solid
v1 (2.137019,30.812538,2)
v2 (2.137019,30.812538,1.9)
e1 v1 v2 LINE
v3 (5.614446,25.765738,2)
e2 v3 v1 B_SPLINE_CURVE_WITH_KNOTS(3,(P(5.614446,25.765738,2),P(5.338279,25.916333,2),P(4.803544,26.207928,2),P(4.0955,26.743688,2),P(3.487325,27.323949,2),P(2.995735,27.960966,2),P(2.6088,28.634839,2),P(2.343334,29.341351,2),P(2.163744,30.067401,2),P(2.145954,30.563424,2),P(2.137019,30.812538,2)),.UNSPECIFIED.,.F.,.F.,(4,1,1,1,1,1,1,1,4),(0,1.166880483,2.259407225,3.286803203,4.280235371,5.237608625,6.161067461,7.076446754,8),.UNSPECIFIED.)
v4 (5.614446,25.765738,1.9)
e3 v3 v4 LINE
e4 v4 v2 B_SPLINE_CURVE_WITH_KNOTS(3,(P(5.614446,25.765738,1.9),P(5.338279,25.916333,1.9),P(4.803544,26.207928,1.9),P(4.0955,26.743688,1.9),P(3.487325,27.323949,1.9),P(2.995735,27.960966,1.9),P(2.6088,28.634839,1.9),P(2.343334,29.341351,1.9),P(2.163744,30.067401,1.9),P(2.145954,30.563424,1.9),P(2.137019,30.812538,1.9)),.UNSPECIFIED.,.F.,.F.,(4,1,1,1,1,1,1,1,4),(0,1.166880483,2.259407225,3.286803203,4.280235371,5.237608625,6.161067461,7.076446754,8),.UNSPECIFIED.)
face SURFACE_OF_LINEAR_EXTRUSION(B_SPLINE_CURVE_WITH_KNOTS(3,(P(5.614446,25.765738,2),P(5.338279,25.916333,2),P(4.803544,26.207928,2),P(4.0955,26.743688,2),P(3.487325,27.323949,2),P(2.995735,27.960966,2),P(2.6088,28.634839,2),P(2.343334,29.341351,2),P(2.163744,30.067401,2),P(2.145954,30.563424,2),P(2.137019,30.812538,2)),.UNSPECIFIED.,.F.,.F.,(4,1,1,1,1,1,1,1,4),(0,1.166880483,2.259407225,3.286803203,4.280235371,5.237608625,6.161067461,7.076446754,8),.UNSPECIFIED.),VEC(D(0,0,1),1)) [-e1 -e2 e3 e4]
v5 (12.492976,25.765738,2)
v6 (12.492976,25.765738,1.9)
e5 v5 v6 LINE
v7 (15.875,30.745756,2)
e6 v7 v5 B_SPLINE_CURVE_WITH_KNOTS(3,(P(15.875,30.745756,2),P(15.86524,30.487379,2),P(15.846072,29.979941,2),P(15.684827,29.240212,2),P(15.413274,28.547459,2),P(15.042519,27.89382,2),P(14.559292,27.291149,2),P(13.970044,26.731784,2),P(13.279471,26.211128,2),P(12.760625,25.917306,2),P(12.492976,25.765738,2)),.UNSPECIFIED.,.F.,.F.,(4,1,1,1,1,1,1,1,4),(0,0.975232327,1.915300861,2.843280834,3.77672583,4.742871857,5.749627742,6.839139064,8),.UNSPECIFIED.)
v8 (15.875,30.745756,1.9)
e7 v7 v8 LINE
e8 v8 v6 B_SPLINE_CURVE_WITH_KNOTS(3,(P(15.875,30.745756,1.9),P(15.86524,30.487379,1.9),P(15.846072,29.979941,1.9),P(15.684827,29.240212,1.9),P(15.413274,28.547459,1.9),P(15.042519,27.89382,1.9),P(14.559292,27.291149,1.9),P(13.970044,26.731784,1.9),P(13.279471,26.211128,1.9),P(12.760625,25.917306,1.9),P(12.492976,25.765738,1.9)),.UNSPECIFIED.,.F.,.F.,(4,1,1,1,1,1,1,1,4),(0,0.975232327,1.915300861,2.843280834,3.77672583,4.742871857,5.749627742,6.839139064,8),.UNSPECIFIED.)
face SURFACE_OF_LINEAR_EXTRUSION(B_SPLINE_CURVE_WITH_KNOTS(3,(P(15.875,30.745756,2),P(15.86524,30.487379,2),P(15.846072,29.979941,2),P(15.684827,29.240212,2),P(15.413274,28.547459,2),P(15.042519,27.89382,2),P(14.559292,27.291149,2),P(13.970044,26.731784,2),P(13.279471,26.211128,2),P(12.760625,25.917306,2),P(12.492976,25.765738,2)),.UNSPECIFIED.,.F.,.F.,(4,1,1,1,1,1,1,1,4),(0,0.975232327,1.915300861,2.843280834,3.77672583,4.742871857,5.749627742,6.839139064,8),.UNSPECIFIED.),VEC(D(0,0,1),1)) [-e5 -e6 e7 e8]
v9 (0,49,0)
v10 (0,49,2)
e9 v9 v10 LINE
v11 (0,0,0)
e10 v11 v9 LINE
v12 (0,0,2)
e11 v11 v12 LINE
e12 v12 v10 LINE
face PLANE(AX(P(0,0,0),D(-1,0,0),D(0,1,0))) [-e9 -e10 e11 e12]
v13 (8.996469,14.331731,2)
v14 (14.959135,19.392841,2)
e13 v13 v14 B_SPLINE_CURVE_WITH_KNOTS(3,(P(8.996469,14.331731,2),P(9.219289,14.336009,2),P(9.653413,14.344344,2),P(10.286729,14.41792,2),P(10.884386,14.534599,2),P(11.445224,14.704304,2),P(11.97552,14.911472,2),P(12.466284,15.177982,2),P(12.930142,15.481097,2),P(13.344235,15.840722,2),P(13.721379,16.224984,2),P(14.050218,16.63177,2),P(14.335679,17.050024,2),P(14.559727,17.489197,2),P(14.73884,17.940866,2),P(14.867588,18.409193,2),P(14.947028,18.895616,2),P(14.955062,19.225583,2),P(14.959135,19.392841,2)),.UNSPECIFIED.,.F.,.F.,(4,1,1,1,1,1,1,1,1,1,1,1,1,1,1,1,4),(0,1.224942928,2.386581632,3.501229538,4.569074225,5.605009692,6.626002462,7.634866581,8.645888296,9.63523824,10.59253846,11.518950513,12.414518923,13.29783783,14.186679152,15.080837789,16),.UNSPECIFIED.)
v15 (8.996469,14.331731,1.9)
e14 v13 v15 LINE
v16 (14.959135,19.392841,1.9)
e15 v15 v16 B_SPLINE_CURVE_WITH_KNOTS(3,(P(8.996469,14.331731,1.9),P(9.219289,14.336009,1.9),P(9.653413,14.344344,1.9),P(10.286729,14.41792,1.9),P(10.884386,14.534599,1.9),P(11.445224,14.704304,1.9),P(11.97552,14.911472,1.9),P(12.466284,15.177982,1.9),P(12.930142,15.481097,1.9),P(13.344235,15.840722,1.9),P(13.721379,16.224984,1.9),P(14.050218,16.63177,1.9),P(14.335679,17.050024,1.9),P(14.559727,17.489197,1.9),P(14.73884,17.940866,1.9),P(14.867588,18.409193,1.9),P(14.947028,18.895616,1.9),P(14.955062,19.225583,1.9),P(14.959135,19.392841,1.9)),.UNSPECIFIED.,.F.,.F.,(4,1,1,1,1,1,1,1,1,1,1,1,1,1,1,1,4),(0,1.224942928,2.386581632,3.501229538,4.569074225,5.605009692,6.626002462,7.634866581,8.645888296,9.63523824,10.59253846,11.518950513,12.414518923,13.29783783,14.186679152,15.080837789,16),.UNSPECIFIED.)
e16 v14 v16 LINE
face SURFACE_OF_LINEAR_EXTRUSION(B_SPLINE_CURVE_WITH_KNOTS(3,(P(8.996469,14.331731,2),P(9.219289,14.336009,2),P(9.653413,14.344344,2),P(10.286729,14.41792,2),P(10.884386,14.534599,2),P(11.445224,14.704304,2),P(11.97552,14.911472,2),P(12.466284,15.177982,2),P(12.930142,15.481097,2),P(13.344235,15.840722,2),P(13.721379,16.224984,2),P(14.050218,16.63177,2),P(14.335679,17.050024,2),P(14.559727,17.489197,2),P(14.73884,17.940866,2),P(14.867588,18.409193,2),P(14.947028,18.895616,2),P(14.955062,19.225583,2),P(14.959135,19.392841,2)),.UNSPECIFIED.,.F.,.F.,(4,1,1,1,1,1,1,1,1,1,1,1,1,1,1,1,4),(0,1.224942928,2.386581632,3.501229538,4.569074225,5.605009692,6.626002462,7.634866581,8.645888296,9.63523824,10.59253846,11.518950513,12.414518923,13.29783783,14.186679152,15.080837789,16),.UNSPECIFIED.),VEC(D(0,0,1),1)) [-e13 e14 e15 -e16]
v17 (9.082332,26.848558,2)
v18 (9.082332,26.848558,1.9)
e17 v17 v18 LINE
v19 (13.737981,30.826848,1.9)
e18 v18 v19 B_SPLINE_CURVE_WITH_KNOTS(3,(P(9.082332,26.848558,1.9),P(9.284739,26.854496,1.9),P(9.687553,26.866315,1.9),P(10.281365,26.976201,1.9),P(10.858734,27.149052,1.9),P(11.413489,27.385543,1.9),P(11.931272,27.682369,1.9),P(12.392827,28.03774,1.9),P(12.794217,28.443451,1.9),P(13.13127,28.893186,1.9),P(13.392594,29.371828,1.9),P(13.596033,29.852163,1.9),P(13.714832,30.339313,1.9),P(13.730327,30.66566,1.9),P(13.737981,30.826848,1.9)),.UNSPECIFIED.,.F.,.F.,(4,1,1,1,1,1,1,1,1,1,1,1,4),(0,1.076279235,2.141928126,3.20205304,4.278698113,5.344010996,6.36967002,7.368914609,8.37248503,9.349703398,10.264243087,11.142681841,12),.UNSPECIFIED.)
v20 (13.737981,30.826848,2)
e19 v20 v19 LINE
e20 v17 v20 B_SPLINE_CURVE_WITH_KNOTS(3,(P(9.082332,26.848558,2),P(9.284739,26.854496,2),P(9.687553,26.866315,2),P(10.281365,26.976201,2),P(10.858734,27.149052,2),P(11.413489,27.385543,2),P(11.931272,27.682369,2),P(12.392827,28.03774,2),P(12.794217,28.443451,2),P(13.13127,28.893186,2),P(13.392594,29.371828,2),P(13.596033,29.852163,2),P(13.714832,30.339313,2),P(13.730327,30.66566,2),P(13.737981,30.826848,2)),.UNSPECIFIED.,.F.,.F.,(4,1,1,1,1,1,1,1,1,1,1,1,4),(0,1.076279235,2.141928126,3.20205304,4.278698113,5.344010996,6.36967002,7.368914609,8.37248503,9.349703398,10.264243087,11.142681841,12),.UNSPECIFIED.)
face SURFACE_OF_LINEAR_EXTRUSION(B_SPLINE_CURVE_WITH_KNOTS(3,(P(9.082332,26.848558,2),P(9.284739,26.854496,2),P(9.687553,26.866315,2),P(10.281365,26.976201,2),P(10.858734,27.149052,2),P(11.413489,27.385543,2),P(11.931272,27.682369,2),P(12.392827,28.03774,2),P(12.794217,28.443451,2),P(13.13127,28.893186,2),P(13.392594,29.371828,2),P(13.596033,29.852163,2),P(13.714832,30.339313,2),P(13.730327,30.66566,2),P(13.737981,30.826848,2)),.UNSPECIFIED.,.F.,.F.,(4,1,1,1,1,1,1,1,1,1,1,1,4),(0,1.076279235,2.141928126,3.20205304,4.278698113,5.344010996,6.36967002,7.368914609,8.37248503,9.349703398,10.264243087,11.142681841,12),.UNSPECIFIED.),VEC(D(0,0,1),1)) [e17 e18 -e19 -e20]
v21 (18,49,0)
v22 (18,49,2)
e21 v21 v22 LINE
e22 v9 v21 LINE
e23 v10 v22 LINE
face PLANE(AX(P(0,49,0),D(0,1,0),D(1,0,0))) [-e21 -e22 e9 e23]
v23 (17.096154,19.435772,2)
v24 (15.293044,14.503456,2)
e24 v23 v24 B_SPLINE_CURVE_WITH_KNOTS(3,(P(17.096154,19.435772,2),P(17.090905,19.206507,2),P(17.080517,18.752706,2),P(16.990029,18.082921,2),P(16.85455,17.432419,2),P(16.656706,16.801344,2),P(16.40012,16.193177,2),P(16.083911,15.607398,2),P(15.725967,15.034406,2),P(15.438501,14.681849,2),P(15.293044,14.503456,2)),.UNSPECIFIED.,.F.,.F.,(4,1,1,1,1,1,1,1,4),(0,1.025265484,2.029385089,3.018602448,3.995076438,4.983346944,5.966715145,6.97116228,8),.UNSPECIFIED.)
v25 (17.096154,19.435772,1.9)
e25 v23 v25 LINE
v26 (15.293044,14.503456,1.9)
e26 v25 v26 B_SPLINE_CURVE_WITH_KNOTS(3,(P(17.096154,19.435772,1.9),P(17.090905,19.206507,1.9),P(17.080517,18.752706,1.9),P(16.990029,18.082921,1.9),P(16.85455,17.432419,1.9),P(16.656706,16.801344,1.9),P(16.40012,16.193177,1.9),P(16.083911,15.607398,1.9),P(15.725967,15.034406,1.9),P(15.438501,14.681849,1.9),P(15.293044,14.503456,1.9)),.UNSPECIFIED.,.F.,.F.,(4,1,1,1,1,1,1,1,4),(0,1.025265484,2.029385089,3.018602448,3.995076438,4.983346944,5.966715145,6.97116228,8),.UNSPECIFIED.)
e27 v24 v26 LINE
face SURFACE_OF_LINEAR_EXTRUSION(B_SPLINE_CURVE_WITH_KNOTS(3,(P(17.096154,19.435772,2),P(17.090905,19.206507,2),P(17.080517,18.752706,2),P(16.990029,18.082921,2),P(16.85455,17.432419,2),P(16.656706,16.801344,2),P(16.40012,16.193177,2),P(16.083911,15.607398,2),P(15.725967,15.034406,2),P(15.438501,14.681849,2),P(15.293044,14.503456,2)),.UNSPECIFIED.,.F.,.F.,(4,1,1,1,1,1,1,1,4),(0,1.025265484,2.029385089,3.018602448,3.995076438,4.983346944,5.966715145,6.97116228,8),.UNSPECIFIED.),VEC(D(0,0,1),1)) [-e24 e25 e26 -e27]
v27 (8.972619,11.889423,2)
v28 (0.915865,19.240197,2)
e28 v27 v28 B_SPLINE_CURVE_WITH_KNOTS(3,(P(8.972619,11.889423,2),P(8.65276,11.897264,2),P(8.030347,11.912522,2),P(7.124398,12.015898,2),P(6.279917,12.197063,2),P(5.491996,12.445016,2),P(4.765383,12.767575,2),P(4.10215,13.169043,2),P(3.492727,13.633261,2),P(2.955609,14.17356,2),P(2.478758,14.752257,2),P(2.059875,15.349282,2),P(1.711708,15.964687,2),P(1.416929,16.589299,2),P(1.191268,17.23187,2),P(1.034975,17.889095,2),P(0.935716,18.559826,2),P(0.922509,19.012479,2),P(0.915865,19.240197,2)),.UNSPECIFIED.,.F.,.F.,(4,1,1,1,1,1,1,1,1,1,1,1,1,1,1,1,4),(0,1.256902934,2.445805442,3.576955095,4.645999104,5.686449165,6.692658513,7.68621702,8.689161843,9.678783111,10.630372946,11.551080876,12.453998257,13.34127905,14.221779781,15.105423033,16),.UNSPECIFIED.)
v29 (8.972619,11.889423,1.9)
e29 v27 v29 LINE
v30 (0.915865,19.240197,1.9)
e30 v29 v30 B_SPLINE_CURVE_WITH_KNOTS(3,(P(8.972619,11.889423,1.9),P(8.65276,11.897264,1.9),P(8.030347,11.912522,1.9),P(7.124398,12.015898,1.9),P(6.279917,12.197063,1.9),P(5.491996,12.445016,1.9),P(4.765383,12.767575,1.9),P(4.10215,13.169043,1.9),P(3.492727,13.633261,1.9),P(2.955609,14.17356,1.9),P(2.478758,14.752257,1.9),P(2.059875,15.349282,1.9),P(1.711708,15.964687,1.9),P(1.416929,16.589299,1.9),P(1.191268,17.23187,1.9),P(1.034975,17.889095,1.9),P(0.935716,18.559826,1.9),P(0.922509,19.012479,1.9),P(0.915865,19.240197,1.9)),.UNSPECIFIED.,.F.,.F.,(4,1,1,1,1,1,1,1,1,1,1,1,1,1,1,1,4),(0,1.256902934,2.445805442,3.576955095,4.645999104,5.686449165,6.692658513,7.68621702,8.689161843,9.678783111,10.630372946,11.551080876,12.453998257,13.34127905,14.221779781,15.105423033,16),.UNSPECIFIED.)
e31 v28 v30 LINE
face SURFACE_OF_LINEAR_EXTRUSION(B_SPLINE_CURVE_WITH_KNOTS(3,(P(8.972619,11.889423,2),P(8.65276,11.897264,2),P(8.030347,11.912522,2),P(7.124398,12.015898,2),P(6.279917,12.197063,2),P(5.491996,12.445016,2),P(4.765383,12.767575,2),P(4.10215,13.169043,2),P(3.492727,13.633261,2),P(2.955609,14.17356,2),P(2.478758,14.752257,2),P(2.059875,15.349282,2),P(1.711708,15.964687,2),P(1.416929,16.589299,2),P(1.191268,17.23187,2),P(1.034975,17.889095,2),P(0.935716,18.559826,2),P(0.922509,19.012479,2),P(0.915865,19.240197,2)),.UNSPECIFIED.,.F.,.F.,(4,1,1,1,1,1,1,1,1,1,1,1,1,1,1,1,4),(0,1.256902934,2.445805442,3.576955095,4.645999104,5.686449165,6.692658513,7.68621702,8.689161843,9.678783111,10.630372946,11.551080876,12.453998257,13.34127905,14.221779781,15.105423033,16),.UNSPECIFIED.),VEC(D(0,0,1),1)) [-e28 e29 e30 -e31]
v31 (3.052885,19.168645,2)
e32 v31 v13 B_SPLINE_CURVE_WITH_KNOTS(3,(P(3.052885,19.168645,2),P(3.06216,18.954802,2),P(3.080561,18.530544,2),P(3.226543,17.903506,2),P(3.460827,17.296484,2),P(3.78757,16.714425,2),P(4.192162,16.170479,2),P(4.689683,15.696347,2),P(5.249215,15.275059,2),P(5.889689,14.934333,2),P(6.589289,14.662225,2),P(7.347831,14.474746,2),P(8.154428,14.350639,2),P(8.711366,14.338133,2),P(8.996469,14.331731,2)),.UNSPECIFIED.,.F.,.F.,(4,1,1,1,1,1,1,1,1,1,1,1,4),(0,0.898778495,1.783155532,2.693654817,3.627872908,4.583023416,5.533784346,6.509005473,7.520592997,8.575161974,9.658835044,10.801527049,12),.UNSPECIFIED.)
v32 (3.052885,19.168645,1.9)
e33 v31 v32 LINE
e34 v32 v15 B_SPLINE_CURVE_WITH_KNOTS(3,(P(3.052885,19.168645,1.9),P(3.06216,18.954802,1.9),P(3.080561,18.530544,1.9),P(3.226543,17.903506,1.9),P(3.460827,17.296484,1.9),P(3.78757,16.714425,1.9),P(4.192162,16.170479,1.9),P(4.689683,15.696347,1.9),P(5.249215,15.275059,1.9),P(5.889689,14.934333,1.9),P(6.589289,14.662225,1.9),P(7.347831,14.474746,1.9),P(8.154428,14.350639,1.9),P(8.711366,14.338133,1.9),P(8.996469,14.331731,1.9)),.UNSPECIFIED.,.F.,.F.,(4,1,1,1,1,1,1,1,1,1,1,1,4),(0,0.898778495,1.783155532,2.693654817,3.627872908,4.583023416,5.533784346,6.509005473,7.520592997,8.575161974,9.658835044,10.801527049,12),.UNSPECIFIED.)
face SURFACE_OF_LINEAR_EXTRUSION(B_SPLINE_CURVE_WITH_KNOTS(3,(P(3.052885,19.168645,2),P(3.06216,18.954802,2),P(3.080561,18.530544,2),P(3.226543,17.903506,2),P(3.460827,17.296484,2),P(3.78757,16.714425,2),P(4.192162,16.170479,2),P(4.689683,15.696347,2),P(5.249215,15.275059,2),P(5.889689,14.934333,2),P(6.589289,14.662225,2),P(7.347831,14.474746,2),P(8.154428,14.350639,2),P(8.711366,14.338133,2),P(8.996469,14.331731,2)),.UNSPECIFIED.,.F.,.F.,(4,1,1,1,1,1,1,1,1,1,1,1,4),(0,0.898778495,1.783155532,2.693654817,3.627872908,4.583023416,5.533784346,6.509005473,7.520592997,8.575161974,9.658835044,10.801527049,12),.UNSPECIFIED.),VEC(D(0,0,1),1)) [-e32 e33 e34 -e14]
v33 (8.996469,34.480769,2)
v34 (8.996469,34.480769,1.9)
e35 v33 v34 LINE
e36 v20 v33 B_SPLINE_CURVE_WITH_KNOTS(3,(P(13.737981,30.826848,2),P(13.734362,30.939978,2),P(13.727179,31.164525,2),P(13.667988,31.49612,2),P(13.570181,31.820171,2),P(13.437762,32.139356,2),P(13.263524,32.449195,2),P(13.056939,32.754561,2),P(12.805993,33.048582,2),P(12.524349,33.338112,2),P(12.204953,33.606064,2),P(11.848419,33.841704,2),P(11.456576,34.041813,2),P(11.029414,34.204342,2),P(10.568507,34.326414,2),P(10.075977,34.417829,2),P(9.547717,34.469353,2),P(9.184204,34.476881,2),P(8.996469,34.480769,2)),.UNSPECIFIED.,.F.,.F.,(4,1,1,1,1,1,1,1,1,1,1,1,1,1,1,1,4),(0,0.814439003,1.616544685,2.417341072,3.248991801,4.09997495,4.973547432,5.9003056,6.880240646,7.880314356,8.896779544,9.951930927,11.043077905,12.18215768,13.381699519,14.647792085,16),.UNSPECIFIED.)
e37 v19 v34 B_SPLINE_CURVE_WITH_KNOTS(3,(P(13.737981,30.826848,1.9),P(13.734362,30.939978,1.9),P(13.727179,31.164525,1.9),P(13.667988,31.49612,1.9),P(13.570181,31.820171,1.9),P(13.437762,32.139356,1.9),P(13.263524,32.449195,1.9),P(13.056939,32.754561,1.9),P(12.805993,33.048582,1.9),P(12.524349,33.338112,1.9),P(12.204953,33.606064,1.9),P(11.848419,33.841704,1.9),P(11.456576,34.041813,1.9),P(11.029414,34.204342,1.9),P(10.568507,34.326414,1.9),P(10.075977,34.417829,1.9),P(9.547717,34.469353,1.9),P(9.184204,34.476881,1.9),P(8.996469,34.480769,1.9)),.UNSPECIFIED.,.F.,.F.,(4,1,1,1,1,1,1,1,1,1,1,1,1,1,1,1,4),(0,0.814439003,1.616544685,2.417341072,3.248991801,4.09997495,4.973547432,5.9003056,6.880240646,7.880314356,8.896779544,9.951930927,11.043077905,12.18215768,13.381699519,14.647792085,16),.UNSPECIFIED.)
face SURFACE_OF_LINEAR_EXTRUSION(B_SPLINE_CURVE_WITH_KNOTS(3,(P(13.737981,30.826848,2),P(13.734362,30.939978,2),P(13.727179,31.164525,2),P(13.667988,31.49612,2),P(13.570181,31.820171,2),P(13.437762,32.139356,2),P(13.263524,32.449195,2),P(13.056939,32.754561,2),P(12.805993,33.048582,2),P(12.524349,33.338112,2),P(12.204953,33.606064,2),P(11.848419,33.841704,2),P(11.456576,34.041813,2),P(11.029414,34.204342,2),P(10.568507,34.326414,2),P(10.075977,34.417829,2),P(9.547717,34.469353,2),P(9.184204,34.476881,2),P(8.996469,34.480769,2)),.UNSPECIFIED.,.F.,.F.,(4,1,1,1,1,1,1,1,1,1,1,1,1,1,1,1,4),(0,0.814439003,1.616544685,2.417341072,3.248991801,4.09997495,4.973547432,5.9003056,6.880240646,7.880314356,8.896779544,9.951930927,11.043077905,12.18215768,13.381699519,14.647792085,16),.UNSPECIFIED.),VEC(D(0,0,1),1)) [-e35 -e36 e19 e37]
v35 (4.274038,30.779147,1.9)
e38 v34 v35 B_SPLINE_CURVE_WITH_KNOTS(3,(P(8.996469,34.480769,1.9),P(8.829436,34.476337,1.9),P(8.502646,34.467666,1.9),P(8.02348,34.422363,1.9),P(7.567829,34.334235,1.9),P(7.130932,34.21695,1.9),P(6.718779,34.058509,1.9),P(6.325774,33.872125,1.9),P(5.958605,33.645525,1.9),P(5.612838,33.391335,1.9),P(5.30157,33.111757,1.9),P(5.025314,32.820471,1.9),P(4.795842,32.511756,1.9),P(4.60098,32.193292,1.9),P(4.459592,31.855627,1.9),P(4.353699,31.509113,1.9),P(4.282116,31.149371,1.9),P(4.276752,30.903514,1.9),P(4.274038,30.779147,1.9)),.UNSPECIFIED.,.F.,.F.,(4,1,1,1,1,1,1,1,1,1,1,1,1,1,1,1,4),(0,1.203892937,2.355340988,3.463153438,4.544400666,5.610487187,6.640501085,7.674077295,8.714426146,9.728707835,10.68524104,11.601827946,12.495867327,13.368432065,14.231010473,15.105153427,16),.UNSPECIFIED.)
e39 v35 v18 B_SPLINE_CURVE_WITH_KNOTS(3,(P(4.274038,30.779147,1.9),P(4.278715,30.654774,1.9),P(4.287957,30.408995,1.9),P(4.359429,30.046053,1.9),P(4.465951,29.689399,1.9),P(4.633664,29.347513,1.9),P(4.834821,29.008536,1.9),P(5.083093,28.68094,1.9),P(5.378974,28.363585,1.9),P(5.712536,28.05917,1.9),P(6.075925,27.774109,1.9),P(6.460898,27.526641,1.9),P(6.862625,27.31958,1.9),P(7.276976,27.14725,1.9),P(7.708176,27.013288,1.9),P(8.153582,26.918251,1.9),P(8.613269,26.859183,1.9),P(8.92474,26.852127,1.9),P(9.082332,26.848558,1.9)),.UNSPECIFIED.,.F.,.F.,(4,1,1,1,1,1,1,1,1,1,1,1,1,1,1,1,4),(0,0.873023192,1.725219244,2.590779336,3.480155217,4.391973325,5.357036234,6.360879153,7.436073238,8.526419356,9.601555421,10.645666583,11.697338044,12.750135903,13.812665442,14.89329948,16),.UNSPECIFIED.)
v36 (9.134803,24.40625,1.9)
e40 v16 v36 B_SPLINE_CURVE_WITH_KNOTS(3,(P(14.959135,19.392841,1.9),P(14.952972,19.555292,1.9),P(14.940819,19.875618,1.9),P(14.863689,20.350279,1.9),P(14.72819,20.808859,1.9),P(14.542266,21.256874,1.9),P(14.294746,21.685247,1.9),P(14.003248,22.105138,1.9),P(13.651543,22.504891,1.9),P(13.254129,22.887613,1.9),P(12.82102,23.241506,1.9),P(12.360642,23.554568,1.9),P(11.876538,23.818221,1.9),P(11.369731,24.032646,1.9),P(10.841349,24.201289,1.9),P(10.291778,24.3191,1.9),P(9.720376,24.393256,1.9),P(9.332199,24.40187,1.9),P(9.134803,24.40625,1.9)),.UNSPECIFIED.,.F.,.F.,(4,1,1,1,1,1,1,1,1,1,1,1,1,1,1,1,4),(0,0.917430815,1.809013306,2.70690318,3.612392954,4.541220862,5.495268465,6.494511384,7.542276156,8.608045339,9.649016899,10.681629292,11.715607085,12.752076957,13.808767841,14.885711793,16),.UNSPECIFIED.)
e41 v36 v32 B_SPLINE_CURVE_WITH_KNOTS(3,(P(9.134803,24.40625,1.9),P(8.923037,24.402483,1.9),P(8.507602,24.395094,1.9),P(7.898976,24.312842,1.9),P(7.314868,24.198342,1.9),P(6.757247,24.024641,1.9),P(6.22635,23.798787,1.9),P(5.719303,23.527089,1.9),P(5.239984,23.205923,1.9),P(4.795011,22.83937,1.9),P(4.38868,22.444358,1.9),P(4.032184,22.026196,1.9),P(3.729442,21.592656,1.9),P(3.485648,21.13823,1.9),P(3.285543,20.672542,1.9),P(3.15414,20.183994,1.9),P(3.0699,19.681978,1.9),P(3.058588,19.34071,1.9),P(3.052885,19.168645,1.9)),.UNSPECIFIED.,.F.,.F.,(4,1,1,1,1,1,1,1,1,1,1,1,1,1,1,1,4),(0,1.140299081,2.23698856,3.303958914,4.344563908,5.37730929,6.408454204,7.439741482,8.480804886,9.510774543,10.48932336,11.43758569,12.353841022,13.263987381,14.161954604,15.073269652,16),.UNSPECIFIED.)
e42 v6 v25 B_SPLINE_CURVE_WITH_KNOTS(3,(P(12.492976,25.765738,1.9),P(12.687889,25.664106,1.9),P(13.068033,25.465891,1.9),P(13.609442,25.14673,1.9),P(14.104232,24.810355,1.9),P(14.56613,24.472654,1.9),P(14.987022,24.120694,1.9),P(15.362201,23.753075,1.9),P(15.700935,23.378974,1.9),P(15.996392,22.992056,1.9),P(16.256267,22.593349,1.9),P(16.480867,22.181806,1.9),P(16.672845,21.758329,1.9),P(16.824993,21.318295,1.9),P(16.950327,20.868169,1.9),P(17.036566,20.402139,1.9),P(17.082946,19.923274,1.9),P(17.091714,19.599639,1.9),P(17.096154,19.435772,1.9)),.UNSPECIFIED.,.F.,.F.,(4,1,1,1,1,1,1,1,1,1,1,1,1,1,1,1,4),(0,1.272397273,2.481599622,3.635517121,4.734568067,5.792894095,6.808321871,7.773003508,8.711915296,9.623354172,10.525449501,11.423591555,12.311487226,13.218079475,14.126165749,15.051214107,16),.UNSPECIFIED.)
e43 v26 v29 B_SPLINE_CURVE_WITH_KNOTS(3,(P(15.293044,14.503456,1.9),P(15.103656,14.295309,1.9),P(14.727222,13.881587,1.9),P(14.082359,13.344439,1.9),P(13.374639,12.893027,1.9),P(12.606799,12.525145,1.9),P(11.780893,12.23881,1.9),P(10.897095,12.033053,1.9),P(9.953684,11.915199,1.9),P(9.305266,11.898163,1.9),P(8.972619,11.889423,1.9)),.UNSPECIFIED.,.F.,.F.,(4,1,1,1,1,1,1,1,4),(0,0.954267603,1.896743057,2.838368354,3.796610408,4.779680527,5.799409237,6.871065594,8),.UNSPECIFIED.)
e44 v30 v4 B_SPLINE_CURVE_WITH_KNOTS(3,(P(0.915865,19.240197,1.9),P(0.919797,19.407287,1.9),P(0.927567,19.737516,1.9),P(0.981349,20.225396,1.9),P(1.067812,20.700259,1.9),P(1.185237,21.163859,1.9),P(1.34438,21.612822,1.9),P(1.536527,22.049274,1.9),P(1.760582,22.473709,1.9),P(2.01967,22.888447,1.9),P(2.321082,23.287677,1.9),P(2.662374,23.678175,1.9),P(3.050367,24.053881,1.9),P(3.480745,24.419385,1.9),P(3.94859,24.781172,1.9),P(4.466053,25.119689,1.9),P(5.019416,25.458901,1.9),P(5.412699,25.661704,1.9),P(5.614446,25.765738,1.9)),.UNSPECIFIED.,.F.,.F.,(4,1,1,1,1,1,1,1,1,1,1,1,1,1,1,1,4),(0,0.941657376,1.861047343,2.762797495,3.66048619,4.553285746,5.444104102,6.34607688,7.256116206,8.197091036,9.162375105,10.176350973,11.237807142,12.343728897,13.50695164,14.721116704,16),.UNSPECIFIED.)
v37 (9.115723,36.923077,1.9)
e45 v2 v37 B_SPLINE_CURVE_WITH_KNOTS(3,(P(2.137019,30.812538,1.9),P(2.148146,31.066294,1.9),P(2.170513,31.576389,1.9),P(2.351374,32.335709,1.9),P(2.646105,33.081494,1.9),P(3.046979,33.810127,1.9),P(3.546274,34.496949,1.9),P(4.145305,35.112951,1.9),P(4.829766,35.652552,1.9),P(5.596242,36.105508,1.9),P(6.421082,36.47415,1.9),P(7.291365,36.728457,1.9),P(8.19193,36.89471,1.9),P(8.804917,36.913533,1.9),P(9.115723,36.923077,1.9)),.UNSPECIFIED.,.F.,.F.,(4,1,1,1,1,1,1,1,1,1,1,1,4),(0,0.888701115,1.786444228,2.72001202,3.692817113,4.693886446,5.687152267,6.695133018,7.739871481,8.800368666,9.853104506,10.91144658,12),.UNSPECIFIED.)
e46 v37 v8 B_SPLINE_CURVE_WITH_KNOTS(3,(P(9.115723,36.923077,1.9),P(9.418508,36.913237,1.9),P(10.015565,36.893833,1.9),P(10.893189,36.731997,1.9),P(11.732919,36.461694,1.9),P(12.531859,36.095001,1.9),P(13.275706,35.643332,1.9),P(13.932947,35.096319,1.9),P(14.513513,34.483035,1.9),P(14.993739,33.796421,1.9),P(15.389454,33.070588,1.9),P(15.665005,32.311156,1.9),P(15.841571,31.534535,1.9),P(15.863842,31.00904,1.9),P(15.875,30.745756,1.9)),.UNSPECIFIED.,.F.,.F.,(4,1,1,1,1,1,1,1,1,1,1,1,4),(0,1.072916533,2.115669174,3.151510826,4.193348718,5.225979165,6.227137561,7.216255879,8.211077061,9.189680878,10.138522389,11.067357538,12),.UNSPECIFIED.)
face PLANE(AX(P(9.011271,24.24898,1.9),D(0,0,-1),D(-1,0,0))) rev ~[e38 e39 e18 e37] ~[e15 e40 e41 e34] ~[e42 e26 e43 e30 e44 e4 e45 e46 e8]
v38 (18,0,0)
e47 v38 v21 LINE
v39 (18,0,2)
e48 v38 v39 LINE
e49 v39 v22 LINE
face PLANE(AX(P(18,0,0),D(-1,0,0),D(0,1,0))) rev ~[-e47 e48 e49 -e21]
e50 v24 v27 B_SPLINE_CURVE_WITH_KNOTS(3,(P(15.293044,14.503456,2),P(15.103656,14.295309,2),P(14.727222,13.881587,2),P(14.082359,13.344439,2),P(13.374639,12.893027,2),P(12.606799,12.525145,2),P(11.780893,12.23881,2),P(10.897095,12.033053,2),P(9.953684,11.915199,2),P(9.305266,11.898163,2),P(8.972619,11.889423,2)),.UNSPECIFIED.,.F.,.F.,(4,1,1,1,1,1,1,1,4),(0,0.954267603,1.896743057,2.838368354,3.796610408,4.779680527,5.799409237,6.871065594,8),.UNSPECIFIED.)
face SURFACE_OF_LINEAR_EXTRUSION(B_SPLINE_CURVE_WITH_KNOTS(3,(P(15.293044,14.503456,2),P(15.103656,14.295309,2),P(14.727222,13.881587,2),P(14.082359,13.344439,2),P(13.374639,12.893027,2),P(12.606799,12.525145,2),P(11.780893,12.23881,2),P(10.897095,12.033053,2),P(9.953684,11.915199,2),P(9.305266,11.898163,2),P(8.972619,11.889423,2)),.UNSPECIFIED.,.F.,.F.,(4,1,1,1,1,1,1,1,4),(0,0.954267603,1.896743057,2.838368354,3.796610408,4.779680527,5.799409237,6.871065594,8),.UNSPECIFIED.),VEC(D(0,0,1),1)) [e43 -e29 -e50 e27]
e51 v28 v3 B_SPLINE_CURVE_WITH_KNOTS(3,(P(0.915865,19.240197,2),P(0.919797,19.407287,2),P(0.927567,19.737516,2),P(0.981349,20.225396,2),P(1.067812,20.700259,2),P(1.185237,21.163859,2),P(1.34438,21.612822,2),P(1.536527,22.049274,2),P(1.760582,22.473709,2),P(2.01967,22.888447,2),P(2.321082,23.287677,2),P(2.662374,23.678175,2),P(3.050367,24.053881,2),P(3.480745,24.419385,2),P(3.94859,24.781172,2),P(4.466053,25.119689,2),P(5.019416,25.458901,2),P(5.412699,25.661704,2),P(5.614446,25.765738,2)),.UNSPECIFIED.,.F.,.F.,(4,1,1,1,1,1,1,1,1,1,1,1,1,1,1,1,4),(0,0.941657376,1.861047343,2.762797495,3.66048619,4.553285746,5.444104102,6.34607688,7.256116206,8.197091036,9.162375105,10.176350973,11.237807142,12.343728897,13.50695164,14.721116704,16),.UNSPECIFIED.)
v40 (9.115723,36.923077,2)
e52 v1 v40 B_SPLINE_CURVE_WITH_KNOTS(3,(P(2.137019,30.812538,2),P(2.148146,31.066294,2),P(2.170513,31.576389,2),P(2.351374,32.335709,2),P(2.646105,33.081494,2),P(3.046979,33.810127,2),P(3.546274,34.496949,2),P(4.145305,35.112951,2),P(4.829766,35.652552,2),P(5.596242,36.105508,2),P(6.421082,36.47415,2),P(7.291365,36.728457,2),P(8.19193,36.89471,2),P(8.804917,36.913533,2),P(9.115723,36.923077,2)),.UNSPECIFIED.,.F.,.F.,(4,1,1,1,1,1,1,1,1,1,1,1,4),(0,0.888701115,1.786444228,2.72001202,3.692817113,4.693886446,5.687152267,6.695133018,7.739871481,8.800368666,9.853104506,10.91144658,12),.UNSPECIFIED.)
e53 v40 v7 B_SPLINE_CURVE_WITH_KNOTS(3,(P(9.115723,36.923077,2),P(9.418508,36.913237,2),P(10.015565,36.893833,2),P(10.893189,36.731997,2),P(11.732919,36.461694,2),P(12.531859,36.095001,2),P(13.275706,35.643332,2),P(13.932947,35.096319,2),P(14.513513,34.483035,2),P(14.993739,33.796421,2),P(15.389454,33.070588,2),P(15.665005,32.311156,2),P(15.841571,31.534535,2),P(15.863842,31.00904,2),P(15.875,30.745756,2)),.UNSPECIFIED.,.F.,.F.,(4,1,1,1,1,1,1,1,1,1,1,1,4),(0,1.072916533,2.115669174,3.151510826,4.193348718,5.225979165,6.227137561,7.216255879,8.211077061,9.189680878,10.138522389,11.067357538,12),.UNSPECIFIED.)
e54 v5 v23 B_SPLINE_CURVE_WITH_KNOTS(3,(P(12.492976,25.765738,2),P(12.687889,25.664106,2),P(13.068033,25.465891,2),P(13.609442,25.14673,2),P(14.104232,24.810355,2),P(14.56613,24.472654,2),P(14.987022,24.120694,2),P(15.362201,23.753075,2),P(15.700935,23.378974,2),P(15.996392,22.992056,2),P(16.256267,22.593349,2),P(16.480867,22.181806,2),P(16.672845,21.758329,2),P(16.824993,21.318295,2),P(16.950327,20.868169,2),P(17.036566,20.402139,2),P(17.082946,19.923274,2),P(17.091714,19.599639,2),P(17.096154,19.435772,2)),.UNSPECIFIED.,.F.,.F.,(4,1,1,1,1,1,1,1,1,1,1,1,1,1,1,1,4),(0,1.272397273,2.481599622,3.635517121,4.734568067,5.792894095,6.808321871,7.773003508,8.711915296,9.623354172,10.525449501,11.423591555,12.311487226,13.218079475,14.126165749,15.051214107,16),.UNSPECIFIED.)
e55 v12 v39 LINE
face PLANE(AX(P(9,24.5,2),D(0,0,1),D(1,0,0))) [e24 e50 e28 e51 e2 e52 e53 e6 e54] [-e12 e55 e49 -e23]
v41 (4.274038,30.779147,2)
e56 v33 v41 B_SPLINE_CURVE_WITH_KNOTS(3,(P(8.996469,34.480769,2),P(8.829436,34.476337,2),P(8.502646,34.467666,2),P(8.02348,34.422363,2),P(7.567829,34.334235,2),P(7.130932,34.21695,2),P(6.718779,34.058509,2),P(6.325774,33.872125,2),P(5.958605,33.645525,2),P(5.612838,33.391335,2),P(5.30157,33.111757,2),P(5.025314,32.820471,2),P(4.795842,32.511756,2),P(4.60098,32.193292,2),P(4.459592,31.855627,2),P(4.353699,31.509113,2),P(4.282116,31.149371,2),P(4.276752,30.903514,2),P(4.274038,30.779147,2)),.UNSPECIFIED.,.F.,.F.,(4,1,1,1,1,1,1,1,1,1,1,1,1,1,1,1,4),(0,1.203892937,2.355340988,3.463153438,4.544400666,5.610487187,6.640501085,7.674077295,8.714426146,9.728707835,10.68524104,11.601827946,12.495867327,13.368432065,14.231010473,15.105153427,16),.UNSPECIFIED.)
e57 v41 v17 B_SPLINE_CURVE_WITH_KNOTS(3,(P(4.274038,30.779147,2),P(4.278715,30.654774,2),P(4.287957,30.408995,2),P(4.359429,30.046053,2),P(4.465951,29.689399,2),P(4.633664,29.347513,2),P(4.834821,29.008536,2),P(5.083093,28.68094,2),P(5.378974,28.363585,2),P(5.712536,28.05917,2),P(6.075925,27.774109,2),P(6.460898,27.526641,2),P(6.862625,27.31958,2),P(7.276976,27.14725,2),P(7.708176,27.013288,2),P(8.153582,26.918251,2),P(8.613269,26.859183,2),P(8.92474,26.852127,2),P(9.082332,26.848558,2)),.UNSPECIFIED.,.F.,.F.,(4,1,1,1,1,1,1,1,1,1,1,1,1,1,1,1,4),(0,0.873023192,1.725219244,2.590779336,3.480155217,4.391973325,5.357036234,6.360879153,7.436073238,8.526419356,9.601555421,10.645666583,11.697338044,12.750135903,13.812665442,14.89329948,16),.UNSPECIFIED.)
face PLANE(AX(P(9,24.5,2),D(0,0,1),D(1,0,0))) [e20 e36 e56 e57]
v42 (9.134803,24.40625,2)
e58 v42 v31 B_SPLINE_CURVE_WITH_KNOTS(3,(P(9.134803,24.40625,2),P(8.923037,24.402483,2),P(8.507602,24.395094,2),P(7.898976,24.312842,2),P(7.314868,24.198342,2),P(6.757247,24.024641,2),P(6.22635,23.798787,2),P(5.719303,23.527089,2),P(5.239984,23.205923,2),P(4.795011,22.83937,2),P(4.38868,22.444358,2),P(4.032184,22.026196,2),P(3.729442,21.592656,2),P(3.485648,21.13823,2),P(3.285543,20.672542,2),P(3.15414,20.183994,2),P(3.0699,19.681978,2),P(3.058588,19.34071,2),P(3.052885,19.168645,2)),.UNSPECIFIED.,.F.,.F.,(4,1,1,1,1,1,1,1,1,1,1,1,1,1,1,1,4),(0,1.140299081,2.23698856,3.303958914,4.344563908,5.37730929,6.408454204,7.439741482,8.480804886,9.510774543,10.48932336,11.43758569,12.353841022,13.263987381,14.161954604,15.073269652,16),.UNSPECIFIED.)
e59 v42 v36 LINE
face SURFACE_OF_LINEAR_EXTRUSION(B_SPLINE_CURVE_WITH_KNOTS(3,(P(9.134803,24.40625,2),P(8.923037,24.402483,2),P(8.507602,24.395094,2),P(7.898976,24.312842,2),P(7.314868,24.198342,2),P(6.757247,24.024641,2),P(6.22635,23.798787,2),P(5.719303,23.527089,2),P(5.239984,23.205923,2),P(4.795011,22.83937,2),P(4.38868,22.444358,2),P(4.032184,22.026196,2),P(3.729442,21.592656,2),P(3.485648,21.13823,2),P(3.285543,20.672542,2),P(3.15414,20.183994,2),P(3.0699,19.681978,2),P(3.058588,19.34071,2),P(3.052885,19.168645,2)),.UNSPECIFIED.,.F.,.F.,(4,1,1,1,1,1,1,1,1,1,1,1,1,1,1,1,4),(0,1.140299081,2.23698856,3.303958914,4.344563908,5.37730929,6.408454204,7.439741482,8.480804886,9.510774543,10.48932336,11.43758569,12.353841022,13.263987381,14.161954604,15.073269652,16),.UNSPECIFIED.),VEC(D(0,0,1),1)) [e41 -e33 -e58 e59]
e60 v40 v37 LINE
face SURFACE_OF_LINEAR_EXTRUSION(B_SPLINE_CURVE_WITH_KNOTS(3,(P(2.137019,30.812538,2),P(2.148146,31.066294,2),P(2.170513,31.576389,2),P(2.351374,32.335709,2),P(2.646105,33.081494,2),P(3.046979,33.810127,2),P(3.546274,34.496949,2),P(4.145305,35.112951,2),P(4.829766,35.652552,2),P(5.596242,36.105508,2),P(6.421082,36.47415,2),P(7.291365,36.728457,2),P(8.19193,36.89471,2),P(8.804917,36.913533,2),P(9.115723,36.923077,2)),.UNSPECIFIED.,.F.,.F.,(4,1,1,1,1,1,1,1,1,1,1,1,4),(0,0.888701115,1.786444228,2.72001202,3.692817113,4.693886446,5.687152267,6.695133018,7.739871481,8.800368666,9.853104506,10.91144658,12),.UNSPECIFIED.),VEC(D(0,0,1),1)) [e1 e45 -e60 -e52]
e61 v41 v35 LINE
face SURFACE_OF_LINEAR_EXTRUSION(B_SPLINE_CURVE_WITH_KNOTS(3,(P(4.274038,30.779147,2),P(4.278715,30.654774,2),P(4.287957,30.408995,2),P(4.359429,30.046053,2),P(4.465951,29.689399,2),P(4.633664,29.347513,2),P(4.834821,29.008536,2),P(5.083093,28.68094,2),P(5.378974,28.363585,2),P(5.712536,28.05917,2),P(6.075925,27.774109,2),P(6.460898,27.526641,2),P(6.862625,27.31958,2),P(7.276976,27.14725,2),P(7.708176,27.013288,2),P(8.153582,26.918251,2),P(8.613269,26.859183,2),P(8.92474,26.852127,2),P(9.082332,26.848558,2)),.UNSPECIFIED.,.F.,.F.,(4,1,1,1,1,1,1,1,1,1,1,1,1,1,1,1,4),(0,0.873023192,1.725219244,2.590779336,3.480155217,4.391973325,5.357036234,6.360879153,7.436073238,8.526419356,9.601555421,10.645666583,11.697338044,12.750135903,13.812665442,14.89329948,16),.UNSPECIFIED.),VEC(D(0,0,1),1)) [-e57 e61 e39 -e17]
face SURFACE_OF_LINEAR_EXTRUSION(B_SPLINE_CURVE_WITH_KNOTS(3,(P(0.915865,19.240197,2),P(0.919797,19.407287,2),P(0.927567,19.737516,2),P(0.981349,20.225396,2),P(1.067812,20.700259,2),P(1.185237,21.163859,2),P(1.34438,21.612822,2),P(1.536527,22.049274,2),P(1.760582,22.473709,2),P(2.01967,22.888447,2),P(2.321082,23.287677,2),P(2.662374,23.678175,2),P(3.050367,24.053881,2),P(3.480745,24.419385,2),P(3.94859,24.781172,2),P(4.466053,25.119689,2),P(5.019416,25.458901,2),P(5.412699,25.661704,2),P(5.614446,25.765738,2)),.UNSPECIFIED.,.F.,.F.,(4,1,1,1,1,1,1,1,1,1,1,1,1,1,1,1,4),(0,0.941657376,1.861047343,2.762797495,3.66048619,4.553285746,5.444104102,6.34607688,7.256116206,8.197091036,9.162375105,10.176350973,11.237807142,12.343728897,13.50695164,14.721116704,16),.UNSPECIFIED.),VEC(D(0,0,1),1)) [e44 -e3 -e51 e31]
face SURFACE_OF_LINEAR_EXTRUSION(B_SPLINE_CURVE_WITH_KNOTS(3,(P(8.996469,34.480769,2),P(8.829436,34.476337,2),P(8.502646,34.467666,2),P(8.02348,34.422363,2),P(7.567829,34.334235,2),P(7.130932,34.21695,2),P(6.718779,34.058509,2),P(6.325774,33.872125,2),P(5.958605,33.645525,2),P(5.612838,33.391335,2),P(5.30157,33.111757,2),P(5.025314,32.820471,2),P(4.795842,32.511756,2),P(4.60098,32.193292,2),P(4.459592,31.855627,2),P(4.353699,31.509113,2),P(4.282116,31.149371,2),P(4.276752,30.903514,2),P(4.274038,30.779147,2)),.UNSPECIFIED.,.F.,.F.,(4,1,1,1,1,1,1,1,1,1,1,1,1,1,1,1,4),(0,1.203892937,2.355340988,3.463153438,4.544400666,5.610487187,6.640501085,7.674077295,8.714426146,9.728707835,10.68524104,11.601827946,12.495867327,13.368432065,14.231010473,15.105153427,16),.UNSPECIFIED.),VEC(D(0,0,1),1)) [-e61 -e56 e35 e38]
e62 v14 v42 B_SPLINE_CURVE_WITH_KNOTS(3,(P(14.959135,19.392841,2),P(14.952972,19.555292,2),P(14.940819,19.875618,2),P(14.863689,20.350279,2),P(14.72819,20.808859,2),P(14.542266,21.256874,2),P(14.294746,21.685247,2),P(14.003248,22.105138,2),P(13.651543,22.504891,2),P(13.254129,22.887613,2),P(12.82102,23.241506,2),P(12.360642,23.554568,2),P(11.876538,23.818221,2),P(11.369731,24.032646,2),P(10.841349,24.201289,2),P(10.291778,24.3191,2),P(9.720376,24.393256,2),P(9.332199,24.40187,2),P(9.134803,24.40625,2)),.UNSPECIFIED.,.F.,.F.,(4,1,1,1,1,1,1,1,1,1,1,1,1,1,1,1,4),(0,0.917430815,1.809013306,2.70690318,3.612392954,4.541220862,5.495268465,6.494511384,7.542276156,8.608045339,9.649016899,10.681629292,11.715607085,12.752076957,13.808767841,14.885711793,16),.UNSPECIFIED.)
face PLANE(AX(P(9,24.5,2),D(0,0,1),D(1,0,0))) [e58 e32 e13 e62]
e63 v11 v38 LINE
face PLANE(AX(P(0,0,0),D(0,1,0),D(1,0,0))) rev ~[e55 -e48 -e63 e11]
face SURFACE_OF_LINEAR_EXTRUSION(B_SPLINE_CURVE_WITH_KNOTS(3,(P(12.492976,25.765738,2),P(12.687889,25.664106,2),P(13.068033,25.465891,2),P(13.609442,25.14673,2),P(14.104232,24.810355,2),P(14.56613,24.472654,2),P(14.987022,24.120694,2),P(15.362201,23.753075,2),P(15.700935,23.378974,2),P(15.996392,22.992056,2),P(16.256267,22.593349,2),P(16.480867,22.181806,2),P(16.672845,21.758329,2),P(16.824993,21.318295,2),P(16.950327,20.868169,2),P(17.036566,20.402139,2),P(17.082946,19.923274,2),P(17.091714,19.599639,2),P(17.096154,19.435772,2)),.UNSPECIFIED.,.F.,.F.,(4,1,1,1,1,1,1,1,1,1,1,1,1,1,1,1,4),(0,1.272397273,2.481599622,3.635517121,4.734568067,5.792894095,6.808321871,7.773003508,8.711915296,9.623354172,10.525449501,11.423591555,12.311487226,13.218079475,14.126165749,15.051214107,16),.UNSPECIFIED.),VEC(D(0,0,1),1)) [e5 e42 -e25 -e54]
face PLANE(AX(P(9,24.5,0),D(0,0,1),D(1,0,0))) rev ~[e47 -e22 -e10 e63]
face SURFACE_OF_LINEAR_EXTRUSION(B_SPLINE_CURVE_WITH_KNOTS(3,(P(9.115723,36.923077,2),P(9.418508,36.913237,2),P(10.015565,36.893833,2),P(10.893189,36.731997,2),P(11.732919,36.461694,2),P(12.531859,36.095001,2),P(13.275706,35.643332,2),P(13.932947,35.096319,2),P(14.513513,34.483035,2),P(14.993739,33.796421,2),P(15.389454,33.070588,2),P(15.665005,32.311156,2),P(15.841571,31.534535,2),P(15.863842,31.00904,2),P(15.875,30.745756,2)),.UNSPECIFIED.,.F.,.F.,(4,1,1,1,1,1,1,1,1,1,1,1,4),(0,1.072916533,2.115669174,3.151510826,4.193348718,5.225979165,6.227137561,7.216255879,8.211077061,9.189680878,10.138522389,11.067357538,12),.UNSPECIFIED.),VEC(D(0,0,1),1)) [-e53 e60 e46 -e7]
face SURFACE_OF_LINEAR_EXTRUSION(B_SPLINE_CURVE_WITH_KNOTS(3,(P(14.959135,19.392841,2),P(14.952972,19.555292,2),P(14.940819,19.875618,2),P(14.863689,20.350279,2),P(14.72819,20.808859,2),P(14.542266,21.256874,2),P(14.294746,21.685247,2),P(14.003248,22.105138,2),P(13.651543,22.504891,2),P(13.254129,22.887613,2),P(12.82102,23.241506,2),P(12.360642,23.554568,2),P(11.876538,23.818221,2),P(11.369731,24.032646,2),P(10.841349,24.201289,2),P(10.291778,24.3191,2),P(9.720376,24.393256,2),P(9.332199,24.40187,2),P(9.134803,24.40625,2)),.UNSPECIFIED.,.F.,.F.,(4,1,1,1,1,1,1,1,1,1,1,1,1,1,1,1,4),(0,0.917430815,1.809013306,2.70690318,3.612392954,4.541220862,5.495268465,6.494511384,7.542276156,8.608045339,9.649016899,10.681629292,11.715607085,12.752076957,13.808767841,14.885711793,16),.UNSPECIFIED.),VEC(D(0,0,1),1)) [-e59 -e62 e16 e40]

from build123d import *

# Parameters (mm, degrees)
SKETCH_1_W          = 18
SKETCH_1_H          = 49
EXTRUDE_1_DEPTH     = 2
CUT_EXTRUDE_1_DEPTH = 0.1


with BuildPart() as part:
    # ｽｹｯﾁ1 → ﾎﾞｽ - 押し出し1 (new body)
    with BuildSketch(Plane.XY):
        with Locations((9, 24.5)):
            Rectangle(SKETCH_1_W, SKETCH_1_H)
    extrude(amount=EXTRUDE_1_DEPTH)

    # ｽｹｯﾁ2 → ｶｯﾄ - 押し出し1 (cut)
    with BuildSketch(Plane.XY.offset(2)):
        with BuildLine():
            add(Edge.make_bspline(
                [(12.492976262, 25.76573768), (12.687888699, 25.66410623), (13.068033045, 25.46589096), (13.609442265, 25.146729793), (14.104232006, 24.810354657), (14.566130292, 24.472653542), (14.987022018, 24.120693557), (15.36220097, 23.753075119), (15.700934598, 23.378974313), (15.996391825, 22.992056293), (16.256266732, 22.593348984), (16.480867152, 22.181805894), (16.672844907, 21.758328927), (16.824992758, 21.318295495), (16.950326734, 20.868169429), (17.036566118, 20.402138517), (17.082945505, 19.923273626), (17.09171404, 19.599639288), (17.096153846, 19.435772236)],
                knots=[0, 0, 0, 0, 1.272397273, 2.481599622, 3.635517121, 4.734568067, 5.792894095, 6.808321871, 7.773003508, 8.711915296, 9.623354172, 10.525449501, 11.423591555, 12.311487226, 13.218079475, 14.126165749, 15.051214107, 16, 16, 16, 16], degree=3))
            add(Edge.make_bspline(
                [(17.096153846, 19.435772236), (17.090905431, 19.206507305), (17.080516849, 18.752705983), (16.990029458, 18.082920831), (16.854550087, 17.432419243), (16.656705548, 16.801343833), (16.400119799, 16.193176846), (16.083911326, 15.607397691), (15.725967234, 15.034405605), (15.438501106, 14.681848605), (15.29304387, 14.503455529)],
                knots=[0, 0, 0, 0, 1.025265484, 2.029385089, 3.018602448, 3.995076438, 4.983346944, 5.966715145, 6.97116228, 8, 8, 8, 8], degree=3))
            add(Edge.make_bspline(
                [(15.29304387, 14.503455529), (15.103656429, 14.295308601), (14.72722186, 13.881586874), (14.082359441, 13.344439399), (13.374639125, 12.893026557), (12.606799397, 12.52514456), (11.780892761, 12.238810413), (10.897095194, 12.033053282), (9.953683725, 11.915198898), (9.305266145, 11.898162825), (8.97261869, 11.889423077)],
                knots=[0, 0, 0, 0, 0.954267603, 1.896743057, 2.838368354, 3.796610408, 4.779680527, 5.799409237, 6.871065594, 8, 8, 8, 8], degree=3))
            add(Edge.make_bspline(
                [(8.97261869, 11.889423077), (8.652759742, 11.897264043), (8.030346719, 11.912521767), (7.124397588, 12.015898167), (6.279917417, 12.19706276), (5.491996025, 12.445016263), (4.765383486, 12.767575138), (4.102150245, 13.169043061), (3.492727326, 13.633260552), (2.955609354, 14.173559905), (2.47875762, 14.752257215), (2.059874973, 15.34928156), (1.711708475, 15.964687439), (1.416929487, 16.589298616), (1.191268475, 17.231869772), (1.034975402, 17.889094861), (0.935715961, 18.559825922), (0.922509311, 19.012478778), (0.915865385, 19.240196815)],
                knots=[0, 0, 0, 0, 1.256902934, 2.445805442, 3.576955095, 4.645999104, 5.686449165, 6.692658513, 7.68621702, 8.689161843, 9.678783111, 10.630372946, 11.551080876, 12.453998257, 13.34127905, 14.221779781, 15.105423033, 16, 16, 16, 16], degree=3))
            add(Edge.make_bspline(
                [(0.915865385, 19.240196815), (0.919797039, 19.407287032), (0.927567377, 19.737516278), (0.981348577, 20.225395815), (1.067811501, 20.700258803), (1.185237448, 21.16385922), (1.344379967, 21.612821949), (1.536527338, 22.049274279), (1.760582229, 22.473708952), (2.019670155, 22.888447054), (2.32108214, 23.287677306), (2.662374114, 23.678175055), (3.050367292, 24.053880973), (3.480745293, 24.419385328), (3.948589749, 24.781171864), (4.46605259, 25.119688518), (5.019416091, 25.458900743), (5.412699297, 25.661703814), (5.614445613, 25.76573768)],
                knots=[0, 0, 0, 0, 0.941657376, 1.861047343, 2.762797495, 3.66048619, 4.553285746, 5.444104102, 6.34607688, 7.256116206, 8.197091036, 9.162375105, 10.176350973, 11.237807142, 12.343728897, 13.50695164, 14.721116704, 16, 16, 16, 16], degree=3))
            add(Edge.make_bspline(
                [(5.614445613, 25.76573768), (5.338279296, 25.91633316), (4.803544008, 26.207928159), (4.095500131, 26.743687679), (3.48732464, 27.323949419), (2.995734507, 27.960966416), (2.608800241, 28.6348389), (2.343334378, 29.341350689), (2.163744014, 30.06740139), (2.145953851, 30.563423906), (2.137019231, 30.81253756)],
                knots=[0, 0, 0, 0, 1.166880483, 2.259407225, 3.286803203, 4.280235371, 5.237608625, 6.161067461, 7.076446754, 8, 8, 8, 8], degree=3))
            add(Edge.make_bspline(
                [(2.137019231, 30.81253756), (2.148145955, 31.066294163), (2.170512612, 31.576389188), (2.351374133, 32.33570942), (2.6461053, 33.08149355), (3.046978512, 33.810126882), (3.546273679, 34.496948878), (4.145304642, 35.112950673), (4.829766358, 35.652552009), (5.596242203, 36.105507756), (6.421081593, 36.474150149), (7.291365357, 36.728456918), (8.191930248, 36.894709784), (8.804916517, 36.913532916), (9.115722656, 36.923076923)],
                knots=[0, 0, 0, 0, 0.888701115, 1.786444228, 2.72001202, 3.692817113, 4.693886446, 5.687152267, 6.695133018, 7.739871481, 8.800368666, 9.853104506, 10.91144658, 12, 12, 12, 12], degree=3))
            add(Edge.make_bspline(
                [(9.115722656, 36.923076923), (9.41850754, 36.913236624), (10.015564838, 36.893832676), (10.893189, 36.731996953), (11.73291897, 36.461694327), (12.531858954, 36.095000718), (13.275706124, 35.643332425), (13.932946835, 35.096319335), (14.513513151, 34.483034856), (14.993739119, 33.796421126), (15.389454492, 33.070587595), (15.665005266, 32.311155801), (15.841571374, 31.534534525), (15.863841941, 31.009040249), (15.875, 30.745755709)],
                knots=[0, 0, 0, 0, 1.072916533, 2.115669174, 3.151510826, 4.193348718, 5.225979165, 6.227137561, 7.216255879, 8.211077061, 9.189680878, 10.138522389, 11.067357538, 12, 12, 12, 12], degree=3))
            add(Edge.make_bspline(
                [(15.875, 30.745755709), (15.865239864, 30.487378764), (15.846071512, 29.979941129), (15.684827281, 29.240212481), (15.413274201, 28.547458966), (15.042519271, 27.893819773), (14.559292293, 27.291149227), (13.970043592, 26.731783602), (13.279471034, 26.211127859), (12.760624648, 25.917306345), (12.492976262, 25.76573768)],
                knots=[0, 0, 0, 0, 0.975232327, 1.915300861, 2.843280834, 3.77672583, 4.742871857, 5.749627742, 6.839139064, 8, 8, 8, 8], degree=3))
        make_face()
        with BuildLine():
            add(Edge.make_bspline(
                [(8.996469351, 34.480769231), (8.82943619, 34.476337108), (8.502646291, 34.467665939), (8.023479796, 34.422363427), (7.567828511, 34.334235291), (7.130931725, 34.216950486), (6.718779449, 34.058508995), (6.325774176, 33.872125093), (5.958604545, 33.645524897), (5.61283818, 33.391335318), (5.301569518, 33.111756797), (5.02531355, 32.820470603), (4.795841916, 32.511755882), (4.600980082, 32.193291863), (4.459591543, 31.855626693), (4.35369869, 31.509112796), (4.282115652, 31.149371344), (4.276751784, 30.903514013), (4.274038462, 30.779146635)],
                knots=[0, 0, 0, 0, 1.203892937, 2.355340988, 3.463153438, 4.544400666, 5.610487187, 6.640501085, 7.674077295, 8.714426146, 9.728707835, 10.68524104, 11.601827946, 12.495867327, 13.368432065, 14.231010473, 15.105153427, 16, 16, 16, 16], degree=3))
            add(Edge.make_bspline(
                [(4.274038462, 30.779146635), (4.278715011, 30.654773882), (4.287956546, 30.408995457), (4.359428935, 30.046053047), (4.465951465, 29.689398697), (4.633664, 29.347513034), (4.834820831, 29.008536251), (5.083093195, 28.6809403), (5.378973903, 28.363585092), (5.712535595, 28.059169894), (6.075924807, 27.774108667), (6.460898387, 27.526641128), (6.862624729, 27.319580484), (7.276976307, 27.147250069), (7.7081761, 27.013288174), (8.153581929, 26.91825149), (8.61326865, 26.859182905), (8.924740101, 26.852127456), (9.082331731, 26.848557692)],
                knots=[0, 0, 0, 0, 0.873023192, 1.725219244, 2.590779336, 3.480155217, 4.391973325, 5.357036234, 6.360879153, 7.436073238, 8.526419356, 9.601555421, 10.645666583, 11.697338044, 12.750135903, 13.812665442, 14.89329948, 16, 16, 16, 16], degree=3))
            add(Edge.make_bspline(
                [(9.082331731, 26.848557692), (9.284738687, 26.854496306), (9.687553438, 26.866314879), (10.281364605, 26.976200543), (10.858733668, 27.149051519), (11.413489428, 27.385543433), (11.93127241, 27.682368693), (12.39282716, 28.037739763), (12.794216734, 28.443450996), (13.131269815, 28.89318636), (13.392593948, 29.371828416), (13.596033034, 29.852162551), (13.714831659, 30.339313444), (13.730327249, 30.665660109), (13.737980769, 30.826847957)],
                knots=[0, 0, 0, 0, 1.076279235, 2.141928126, 3.20205304, 4.278698113, 5.344010996, 6.36967002, 7.368914609, 8.37248503, 9.349703398, 10.264243087, 11.142681841, 12, 12, 12, 12], degree=3))
            add(Edge.make_bspline(
                [(13.737980769, 30.826847957), (13.734361966, 30.939977987), (13.72717916, 31.164524881), (13.667987708, 31.496119831), (13.570180702, 31.820171105), (13.437762246, 32.139355697), (13.263524178, 32.44919532), (13.05693926, 32.754560615), (12.80599292, 33.048582151), (12.524349328, 33.338111865), (12.204952888, 33.606063883), (11.848419127, 33.841703608), (11.456575933, 34.041812677), (11.029414041, 34.204341527), (10.568506611, 34.326413584), (10.075976518, 34.417828736), (9.547716978, 34.46935294), (9.18420385, 34.476881266), (8.996469351, 34.480769231)],
                knots=[0, 0, 0, 0, 0.814439003, 1.616544685, 2.417341072, 3.248991801, 4.09997495, 4.973547432, 5.9003056, 6.880240646, 7.880314356, 8.896779544, 9.951930927, 11.043077905, 12.18215768, 13.381699519, 14.647792085, 16, 16, 16, 16], degree=3))
        make_face(mode=Mode.SUBTRACT)
        with BuildLine():
            add(Edge.make_bspline(
                [(9.134803185, 24.40625), (8.92303668, 24.402483261), (8.507602468, 24.395093839), (7.898975868, 24.31284206), (7.314867724, 24.198342082), (6.757247442, 24.024641199), (6.226350498, 23.798786506), (5.719302889, 23.527089011), (5.239983597, 23.205923406), (4.795011477, 22.839370005), (4.388679539, 22.444358362), (4.032183962, 22.026196336), (3.729441903, 21.592655532), (3.485647821, 21.138229829), (3.285543001, 20.67254162), (3.154139658, 20.183993516), (3.069899799, 19.681977621), (3.058587967, 19.340709809), (3.052884615, 19.168644832)],
                knots=[0, 0, 0, 0, 1.140299081, 2.23698856, 3.303958914, 4.344563908, 5.37730929, 6.408454204, 7.439741482, 8.480804886, 9.510774543, 10.48932336, 11.43758569, 12.353841022, 13.263987381, 14.161954604, 15.073269652, 16, 16, 16, 16], degree=3))
            add(Edge.make_bspline(
                [(3.052884615, 19.168644832), (3.062159644, 18.954802417), (3.080561084, 18.530544062), (3.226542858, 17.903506024), (3.460827484, 17.296484204), (3.787570471, 16.714425383), (4.192162348, 16.170479124), (4.689683497, 15.696346561), (5.249214911, 15.275059359), (5.889688525, 14.934332873), (6.589289338, 14.662225019), (7.34783128, 14.474746059), (8.154428137, 14.350639052), (8.71136572, 14.338132855), (8.996469351, 14.331730769)],
                knots=[0, 0, 0, 0, 0.898778495, 1.783155532, 2.693654817, 3.627872908, 4.583023416, 5.533784346, 6.509005473, 7.520592997, 8.575161974, 9.658835044, 10.801527049, 12, 12, 12, 12], degree=3))
            add(Edge.make_bspline(
                [(8.996469351, 14.331730769), (9.219288818, 14.336008912), (9.653412594, 14.344344107), (10.286729496, 14.41791993), (10.884386157, 14.534598627), (11.445223589, 14.704303823), (11.975520071, 14.911472413), (12.466284497, 15.177982468), (12.930141976, 15.48109738), (13.344235383, 15.840721623), (13.721379178, 16.2249839), (14.050218186, 16.631769729), (14.335679382, 17.050023585), (14.559727492, 17.489197418), (14.73884004, 17.940865533), (14.867587796, 18.409192851), (14.947027761, 18.895615775), (14.955062069, 19.22558267), (14.959134615, 19.392841046)],
                knots=[0, 0, 0, 0, 1.224942928, 2.386581632, 3.501229538, 4.569074225, 5.605009692, 6.626002462, 7.634866581, 8.645888296, 9.63523824, 10.59253846, 11.518950513, 12.414518923, 13.29783783, 14.186679152, 15.080837789, 16, 16, 16, 16], degree=3))
            add(Edge.make_bspline(
                [(14.959134615, 19.392841046), (14.95297161, 19.555292238), (14.940819241, 19.875617611), (14.863689251, 20.350279159), (14.728190158, 20.80885902), (14.542266262, 21.256874239), (14.294745784, 21.685247171), (14.00324765, 22.105137551), (13.651543022, 22.504891219), (13.254128751, 22.887613176), (12.821020465, 23.241505956), (12.360642212, 23.554568476), (11.876537747, 23.818221267), (11.369731473, 24.032645994), (10.841348726, 24.201289314), (10.291778143, 24.319099924), (9.720376286, 24.393256151), (9.332199398, 24.401869784), (9.134803185, 24.40625)],
                knots=[0, 0, 0, 0, 0.917430815, 1.809013306, 2.70690318, 3.612392954, 4.541220862, 5.495268465, 6.494511384, 7.542276156, 8.608045339, 9.649016899, 10.681629292, 11.715607085, 12.752076957, 13.808767841, 14.885711793, 16, 16, 16, 16], degree=3))
        make_face(mode=Mode.SUBTRACT)
    extrude(amount=-CUT_EXTRUDE_1_DEPTH, mode=Mode.SUBTRACT)


solid = part.part
